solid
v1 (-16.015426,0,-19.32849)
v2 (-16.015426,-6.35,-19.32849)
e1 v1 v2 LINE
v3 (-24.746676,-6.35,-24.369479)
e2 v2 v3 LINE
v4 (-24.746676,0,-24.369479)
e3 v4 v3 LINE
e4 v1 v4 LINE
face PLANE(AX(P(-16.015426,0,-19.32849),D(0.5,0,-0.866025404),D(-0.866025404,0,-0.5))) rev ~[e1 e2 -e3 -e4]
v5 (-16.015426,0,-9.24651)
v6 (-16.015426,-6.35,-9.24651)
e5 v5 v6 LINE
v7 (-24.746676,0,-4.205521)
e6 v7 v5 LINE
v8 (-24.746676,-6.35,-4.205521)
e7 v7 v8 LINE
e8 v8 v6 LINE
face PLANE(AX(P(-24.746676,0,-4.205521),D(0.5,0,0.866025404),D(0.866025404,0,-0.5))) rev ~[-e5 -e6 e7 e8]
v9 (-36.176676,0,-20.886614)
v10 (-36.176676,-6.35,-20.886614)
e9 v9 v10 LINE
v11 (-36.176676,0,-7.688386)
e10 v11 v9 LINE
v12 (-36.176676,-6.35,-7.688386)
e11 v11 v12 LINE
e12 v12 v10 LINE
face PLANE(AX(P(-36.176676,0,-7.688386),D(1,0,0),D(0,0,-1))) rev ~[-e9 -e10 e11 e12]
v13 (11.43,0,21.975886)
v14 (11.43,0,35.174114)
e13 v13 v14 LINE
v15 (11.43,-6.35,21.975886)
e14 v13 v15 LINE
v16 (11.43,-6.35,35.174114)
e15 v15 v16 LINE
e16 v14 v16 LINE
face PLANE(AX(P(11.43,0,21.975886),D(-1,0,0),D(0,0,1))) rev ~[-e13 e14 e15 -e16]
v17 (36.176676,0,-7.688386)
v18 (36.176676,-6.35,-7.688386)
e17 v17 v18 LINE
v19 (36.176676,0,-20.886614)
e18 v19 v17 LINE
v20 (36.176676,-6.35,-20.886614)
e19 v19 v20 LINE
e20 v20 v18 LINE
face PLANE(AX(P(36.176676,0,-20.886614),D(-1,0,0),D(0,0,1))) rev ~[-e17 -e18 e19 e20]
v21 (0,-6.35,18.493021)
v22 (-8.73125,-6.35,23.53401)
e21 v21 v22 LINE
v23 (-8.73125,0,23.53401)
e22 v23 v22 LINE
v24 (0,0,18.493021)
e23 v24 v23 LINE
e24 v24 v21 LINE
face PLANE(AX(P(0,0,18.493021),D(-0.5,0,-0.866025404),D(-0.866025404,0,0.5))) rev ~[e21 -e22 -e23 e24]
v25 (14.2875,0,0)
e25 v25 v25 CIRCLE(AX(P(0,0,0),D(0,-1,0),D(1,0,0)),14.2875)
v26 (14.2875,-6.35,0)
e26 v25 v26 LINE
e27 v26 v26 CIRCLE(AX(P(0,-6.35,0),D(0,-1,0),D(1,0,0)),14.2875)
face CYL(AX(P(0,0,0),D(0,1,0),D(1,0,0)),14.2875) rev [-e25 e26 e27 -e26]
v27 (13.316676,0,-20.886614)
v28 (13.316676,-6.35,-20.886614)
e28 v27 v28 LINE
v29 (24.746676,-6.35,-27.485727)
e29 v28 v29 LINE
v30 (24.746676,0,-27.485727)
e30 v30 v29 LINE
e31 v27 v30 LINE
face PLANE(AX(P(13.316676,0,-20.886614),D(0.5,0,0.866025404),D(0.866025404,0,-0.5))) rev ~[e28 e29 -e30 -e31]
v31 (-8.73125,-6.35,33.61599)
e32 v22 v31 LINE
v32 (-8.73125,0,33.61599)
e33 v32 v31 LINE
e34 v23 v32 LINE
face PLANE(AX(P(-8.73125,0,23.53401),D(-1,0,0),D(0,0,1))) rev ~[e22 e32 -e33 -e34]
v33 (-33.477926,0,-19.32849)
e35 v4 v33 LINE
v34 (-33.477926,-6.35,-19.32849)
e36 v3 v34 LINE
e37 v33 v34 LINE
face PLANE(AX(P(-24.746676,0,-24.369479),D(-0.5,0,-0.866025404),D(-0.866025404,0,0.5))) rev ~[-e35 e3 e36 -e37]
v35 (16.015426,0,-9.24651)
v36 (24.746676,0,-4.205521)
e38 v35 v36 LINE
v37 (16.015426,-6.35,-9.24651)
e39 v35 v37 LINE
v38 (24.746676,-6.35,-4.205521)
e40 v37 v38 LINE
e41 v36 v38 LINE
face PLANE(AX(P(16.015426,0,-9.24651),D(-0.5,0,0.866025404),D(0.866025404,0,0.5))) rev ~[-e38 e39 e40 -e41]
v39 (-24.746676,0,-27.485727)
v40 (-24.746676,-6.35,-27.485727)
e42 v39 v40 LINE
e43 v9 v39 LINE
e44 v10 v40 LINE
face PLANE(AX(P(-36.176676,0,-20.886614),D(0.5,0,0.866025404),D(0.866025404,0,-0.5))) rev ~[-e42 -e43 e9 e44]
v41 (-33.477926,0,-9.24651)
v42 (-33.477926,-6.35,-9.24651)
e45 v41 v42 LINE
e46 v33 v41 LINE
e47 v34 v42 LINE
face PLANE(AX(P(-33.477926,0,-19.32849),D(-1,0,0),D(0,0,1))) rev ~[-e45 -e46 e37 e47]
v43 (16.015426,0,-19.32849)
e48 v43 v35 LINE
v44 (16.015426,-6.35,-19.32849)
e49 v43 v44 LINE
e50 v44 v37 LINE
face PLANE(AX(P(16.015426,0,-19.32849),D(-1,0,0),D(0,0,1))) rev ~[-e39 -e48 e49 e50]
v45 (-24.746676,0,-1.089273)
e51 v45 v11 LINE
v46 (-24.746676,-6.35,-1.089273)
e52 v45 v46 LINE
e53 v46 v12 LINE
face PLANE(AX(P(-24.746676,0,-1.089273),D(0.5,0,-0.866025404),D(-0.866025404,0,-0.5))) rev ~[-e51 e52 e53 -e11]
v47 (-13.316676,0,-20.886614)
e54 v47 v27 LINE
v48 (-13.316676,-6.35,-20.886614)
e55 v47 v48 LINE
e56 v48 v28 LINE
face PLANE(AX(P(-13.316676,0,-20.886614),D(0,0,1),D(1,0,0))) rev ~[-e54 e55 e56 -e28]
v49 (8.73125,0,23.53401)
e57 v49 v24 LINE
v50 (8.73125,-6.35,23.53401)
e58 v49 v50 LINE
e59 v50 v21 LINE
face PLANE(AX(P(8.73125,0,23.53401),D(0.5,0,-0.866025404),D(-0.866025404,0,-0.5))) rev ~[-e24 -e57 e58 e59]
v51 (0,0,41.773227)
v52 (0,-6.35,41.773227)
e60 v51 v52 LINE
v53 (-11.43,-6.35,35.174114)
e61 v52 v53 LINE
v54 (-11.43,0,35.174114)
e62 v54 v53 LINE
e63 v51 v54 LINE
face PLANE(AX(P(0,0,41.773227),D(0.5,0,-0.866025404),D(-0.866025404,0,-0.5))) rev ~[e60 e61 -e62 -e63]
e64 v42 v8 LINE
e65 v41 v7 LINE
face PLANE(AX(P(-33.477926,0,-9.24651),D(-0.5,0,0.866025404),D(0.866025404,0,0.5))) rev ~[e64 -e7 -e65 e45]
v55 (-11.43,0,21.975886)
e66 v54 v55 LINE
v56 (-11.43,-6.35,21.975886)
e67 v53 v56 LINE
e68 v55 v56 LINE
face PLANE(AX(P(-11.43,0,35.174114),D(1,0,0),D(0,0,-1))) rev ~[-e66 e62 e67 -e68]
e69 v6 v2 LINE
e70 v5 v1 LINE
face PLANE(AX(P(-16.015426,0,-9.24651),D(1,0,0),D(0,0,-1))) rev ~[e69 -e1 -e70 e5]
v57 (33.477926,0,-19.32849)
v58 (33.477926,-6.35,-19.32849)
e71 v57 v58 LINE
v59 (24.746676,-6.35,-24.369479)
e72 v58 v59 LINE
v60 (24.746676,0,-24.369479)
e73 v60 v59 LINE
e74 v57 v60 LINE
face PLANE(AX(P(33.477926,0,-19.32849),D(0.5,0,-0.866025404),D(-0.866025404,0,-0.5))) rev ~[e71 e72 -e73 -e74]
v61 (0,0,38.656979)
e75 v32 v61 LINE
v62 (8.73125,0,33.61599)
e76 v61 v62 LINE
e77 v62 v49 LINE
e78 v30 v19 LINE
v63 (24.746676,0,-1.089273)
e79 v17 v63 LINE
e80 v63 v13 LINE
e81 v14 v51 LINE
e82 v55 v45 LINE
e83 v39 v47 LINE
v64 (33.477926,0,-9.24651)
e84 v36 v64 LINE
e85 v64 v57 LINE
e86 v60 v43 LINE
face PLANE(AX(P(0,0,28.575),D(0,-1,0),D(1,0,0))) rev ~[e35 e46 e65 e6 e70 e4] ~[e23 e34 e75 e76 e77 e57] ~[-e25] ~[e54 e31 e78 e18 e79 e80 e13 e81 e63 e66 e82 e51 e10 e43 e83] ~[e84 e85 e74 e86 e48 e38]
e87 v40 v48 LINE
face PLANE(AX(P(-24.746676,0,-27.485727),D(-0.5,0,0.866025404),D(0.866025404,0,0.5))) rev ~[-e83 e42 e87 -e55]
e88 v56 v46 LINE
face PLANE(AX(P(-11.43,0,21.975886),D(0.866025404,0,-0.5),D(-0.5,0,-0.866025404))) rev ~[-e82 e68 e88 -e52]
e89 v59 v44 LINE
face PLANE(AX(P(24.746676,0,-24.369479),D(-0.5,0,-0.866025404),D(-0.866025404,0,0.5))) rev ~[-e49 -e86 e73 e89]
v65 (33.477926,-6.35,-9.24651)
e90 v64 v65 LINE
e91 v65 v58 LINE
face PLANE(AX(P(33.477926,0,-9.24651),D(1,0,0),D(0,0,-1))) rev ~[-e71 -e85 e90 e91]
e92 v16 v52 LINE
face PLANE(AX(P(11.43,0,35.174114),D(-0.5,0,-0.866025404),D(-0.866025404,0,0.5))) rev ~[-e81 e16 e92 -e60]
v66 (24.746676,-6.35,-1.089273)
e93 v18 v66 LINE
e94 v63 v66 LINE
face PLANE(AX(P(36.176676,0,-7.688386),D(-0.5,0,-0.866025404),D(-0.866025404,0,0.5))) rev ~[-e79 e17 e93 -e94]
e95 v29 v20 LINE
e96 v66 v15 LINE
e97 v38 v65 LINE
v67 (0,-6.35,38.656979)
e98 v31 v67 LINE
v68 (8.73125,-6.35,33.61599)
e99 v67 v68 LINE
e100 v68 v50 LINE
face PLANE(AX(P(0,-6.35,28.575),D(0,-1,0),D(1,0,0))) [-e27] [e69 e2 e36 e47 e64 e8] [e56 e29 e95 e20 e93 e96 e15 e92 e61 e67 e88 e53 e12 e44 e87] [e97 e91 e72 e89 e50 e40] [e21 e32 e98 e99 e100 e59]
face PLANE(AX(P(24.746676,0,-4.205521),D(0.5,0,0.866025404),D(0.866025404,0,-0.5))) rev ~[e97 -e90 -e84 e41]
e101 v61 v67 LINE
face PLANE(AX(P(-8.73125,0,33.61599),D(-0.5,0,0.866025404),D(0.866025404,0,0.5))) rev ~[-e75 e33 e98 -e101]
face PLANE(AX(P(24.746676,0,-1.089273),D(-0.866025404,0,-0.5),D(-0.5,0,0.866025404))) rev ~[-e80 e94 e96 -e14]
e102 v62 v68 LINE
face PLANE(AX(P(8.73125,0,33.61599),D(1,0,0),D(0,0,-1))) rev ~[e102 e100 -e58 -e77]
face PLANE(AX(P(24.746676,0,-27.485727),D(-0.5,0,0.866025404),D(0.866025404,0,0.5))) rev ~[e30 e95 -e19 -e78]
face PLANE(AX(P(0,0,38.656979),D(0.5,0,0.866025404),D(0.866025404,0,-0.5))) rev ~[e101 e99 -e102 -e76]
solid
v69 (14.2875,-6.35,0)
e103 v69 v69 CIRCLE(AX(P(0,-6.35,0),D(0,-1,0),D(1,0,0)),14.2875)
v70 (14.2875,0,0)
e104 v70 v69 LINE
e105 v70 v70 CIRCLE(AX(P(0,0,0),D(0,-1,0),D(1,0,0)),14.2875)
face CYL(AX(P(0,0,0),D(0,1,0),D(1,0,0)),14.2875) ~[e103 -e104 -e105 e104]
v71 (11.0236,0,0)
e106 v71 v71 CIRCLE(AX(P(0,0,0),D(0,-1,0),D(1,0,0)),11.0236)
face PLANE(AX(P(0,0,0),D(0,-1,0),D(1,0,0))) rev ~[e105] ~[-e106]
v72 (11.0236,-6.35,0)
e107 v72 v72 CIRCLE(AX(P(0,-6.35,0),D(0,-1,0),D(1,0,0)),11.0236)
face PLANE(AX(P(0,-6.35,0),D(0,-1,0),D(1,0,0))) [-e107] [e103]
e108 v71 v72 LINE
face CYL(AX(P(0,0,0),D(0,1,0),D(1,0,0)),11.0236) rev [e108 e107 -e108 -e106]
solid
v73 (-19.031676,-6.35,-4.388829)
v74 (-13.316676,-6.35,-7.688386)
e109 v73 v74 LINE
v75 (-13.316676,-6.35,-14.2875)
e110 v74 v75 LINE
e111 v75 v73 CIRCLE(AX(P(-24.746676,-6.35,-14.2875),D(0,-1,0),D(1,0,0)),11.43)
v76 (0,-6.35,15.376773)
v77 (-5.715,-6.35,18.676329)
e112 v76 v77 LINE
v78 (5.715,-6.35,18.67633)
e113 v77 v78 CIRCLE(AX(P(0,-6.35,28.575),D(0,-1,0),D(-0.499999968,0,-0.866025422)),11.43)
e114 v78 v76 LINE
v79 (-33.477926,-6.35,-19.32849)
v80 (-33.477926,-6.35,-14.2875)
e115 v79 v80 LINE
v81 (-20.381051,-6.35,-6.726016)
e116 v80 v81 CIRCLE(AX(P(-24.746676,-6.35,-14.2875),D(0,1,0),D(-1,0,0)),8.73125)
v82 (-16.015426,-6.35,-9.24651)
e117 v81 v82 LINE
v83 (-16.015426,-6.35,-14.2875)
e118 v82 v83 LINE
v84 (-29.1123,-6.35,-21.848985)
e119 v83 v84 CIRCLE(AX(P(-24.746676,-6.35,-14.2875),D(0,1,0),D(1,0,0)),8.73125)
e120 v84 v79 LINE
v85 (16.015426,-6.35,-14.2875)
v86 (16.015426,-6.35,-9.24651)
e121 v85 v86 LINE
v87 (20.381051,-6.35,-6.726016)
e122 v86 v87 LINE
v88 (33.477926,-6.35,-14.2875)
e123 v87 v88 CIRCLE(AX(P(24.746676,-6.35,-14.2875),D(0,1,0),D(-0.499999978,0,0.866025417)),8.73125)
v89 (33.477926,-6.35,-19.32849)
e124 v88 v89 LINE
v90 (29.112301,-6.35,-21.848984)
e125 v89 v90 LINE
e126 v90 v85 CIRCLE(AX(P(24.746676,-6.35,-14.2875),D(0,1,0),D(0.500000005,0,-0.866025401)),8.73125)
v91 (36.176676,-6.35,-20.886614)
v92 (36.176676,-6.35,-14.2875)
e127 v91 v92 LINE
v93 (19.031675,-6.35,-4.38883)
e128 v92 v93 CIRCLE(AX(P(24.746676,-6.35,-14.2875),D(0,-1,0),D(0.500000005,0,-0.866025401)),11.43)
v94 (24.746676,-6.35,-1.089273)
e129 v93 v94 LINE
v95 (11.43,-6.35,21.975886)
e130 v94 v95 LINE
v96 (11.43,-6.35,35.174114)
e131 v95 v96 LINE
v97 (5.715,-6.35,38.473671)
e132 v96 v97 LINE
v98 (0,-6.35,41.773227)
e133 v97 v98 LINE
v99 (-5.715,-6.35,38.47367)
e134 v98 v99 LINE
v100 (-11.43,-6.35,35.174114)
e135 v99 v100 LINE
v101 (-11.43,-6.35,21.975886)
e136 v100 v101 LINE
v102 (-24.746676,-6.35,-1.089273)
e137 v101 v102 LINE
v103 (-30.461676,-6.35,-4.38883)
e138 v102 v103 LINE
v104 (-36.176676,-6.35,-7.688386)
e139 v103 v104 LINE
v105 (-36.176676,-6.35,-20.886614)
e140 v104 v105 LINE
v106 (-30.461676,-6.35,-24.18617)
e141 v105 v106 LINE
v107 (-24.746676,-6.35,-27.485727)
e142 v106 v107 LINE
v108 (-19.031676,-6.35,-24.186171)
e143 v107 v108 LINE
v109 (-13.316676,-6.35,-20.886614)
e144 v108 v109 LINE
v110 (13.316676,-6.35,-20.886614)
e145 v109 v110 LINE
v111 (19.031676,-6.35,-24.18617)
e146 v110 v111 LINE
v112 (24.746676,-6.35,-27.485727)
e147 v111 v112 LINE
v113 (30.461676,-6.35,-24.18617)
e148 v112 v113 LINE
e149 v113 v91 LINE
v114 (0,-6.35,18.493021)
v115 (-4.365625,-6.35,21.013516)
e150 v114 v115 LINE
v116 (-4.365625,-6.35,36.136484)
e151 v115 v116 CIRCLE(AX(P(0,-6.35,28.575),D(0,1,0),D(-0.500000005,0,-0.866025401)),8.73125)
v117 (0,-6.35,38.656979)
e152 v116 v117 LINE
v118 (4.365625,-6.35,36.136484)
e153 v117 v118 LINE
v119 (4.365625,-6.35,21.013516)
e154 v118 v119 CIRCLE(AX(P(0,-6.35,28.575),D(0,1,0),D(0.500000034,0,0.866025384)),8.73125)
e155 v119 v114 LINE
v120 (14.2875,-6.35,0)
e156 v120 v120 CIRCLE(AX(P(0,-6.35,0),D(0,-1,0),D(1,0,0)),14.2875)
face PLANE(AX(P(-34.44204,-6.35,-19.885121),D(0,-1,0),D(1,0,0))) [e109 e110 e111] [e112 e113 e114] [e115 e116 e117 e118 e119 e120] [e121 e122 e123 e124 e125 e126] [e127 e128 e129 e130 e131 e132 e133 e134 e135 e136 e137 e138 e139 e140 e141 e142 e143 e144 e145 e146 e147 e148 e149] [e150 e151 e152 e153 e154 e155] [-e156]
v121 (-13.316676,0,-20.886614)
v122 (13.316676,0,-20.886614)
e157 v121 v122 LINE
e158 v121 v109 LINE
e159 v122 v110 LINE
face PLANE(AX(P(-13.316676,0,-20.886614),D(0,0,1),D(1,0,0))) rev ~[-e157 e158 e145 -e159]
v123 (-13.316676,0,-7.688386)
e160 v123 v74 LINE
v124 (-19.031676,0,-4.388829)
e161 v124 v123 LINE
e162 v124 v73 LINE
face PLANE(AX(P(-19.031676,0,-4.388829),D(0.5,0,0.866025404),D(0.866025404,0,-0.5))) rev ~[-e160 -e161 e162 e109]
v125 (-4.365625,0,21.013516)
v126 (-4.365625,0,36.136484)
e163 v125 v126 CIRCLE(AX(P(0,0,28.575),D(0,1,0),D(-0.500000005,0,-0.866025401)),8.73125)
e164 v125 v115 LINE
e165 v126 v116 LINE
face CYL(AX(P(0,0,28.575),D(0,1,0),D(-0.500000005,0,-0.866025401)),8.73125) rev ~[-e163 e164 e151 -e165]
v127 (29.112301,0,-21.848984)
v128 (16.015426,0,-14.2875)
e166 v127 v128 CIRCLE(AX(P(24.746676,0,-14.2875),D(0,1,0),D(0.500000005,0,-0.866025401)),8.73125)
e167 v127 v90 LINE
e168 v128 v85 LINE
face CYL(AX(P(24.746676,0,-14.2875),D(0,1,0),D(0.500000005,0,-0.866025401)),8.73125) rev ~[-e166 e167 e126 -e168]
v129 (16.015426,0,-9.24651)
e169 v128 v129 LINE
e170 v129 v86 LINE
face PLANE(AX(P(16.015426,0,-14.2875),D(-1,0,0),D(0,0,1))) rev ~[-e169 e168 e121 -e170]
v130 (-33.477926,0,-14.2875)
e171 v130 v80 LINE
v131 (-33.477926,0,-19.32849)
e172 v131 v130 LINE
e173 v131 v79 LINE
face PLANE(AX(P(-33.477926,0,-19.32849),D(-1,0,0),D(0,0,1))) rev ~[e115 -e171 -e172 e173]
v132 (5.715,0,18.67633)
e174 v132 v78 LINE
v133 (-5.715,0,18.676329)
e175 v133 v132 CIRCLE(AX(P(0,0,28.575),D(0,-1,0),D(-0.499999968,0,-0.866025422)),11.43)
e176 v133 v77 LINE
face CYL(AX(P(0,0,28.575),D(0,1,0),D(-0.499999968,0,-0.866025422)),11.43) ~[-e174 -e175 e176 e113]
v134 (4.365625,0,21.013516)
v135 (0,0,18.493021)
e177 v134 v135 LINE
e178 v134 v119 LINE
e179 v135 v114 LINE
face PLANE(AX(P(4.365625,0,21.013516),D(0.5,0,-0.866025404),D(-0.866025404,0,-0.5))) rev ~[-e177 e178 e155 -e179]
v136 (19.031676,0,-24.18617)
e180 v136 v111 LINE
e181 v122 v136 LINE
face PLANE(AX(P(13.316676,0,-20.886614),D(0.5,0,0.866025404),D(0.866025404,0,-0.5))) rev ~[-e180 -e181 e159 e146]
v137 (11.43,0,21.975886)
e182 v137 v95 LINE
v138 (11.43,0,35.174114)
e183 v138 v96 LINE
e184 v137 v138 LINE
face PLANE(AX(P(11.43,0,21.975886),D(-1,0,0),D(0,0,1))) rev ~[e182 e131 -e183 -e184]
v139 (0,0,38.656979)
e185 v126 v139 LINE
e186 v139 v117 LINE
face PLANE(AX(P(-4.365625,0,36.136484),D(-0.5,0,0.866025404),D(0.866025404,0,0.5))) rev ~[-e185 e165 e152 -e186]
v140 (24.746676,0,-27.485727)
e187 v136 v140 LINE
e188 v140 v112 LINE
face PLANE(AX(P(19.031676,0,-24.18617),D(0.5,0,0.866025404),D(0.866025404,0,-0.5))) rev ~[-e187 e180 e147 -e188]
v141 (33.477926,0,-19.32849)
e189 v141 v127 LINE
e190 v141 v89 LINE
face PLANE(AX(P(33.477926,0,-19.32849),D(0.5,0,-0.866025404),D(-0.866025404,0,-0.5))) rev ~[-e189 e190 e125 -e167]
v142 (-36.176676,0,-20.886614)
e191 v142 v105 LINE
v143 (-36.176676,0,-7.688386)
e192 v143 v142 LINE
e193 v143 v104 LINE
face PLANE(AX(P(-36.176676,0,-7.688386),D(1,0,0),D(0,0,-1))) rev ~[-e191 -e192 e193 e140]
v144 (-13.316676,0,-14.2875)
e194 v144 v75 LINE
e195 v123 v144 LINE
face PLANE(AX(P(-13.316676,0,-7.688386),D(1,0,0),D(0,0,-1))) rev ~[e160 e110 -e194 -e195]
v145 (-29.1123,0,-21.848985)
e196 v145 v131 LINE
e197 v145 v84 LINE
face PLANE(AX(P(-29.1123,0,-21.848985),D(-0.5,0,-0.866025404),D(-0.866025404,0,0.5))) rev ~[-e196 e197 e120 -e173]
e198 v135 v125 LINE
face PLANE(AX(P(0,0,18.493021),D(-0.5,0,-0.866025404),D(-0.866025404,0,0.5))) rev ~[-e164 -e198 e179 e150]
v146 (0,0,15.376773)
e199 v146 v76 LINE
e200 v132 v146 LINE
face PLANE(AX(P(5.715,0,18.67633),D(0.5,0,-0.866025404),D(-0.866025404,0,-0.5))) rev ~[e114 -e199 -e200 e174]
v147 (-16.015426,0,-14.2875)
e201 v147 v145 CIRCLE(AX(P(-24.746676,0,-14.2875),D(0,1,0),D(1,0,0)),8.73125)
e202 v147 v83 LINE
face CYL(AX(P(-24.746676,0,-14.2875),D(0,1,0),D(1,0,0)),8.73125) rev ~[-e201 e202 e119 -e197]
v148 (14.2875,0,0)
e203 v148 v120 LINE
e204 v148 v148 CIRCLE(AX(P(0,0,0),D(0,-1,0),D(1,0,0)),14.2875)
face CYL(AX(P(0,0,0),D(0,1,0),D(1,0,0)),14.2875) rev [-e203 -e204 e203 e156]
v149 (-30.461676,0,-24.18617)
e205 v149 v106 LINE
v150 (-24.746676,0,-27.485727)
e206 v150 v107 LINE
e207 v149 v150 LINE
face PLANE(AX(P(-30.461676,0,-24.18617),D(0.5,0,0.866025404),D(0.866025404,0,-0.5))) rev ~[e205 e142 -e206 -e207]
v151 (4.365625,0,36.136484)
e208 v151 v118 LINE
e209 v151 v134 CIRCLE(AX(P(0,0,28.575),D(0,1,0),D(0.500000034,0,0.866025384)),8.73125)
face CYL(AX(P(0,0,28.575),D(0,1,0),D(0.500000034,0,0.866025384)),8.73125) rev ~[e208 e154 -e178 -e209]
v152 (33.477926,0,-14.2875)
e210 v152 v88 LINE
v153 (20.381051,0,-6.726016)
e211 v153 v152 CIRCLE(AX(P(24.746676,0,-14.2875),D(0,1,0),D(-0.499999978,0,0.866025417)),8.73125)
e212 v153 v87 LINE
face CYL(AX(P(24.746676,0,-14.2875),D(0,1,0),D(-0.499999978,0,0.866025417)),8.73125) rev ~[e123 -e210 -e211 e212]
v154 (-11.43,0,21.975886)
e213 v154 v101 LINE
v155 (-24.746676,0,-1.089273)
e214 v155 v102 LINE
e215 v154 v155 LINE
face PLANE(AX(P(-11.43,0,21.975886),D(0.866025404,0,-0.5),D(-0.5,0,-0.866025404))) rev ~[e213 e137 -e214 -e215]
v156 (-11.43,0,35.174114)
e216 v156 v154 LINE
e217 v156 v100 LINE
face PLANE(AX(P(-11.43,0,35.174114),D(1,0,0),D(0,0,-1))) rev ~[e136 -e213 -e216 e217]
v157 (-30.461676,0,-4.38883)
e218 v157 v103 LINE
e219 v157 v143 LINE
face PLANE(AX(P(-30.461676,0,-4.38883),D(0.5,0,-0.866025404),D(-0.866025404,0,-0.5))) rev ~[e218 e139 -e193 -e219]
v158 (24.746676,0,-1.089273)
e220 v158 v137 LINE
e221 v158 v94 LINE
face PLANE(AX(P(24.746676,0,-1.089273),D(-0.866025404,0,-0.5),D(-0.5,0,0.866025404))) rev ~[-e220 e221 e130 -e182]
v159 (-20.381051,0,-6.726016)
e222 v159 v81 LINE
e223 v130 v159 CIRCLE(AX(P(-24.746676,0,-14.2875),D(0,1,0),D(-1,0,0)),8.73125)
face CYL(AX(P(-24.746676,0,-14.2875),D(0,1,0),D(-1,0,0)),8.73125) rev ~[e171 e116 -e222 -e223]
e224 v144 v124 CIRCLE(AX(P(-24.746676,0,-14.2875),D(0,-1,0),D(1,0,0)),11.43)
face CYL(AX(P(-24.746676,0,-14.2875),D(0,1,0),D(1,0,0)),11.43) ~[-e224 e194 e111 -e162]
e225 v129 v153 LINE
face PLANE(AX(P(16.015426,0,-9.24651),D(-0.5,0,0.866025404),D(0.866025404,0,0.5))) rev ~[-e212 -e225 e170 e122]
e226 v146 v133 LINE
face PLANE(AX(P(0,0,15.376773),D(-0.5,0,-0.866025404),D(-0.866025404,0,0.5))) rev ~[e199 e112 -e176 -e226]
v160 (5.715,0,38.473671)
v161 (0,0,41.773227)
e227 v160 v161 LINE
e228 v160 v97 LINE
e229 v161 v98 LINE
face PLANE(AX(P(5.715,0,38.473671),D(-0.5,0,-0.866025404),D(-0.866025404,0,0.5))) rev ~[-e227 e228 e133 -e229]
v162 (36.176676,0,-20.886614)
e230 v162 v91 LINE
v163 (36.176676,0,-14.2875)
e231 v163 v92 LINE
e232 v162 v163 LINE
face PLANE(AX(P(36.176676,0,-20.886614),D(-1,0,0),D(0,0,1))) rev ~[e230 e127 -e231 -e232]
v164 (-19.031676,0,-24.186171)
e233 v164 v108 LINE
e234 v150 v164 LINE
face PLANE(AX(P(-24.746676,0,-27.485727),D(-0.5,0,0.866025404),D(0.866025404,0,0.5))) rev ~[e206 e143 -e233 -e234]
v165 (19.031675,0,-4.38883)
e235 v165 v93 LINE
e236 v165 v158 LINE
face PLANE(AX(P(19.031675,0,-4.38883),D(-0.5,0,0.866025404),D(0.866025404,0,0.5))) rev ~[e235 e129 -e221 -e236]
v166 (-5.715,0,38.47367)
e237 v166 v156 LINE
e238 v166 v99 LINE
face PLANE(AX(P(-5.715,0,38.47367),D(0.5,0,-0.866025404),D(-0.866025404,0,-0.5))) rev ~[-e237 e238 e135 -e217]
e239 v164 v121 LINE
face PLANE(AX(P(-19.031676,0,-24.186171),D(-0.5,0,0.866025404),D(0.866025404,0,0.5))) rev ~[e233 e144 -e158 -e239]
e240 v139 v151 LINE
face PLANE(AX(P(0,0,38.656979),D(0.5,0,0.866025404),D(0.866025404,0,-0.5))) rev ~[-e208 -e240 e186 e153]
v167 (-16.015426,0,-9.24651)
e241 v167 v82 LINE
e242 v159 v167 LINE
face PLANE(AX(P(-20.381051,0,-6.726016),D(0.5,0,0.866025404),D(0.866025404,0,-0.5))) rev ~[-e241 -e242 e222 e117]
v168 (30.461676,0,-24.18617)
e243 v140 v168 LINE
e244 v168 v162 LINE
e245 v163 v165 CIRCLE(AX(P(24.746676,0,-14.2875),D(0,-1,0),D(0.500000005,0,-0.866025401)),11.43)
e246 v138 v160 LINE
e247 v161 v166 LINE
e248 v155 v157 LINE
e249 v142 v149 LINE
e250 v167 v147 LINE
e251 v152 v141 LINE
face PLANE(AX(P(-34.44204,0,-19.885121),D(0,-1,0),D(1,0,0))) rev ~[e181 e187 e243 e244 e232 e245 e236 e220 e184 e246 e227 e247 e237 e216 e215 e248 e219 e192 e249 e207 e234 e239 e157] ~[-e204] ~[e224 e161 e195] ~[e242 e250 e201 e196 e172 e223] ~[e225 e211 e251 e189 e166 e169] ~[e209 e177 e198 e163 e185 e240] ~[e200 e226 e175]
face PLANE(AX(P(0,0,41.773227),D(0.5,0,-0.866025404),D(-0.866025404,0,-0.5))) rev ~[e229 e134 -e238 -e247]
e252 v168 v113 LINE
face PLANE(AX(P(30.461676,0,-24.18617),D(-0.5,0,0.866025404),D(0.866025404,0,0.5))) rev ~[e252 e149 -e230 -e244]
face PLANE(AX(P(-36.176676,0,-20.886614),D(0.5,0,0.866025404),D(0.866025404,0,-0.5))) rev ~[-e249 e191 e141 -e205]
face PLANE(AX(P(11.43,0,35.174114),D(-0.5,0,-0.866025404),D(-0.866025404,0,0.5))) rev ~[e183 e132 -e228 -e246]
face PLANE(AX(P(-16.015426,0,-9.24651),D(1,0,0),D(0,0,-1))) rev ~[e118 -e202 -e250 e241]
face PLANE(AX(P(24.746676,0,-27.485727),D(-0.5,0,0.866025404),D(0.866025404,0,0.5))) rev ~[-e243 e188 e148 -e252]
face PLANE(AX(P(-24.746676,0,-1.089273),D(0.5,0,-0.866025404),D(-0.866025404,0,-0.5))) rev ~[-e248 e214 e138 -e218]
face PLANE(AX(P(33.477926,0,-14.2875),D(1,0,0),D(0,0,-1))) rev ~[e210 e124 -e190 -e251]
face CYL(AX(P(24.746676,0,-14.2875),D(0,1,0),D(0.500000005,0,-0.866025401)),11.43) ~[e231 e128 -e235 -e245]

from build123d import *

# Parameters (mm, degrees)
F1_R     = 14.2875
F2_DEPTH = 6.35
F0_R     = 14.2875
F0_R_2   = 11.0236
F3_DEPTH = 6.35


with BuildPart() as f2:
    # F1 (on Front) → F2 (new body)
    with BuildSketch(Plane.XZ):
        with BuildLine():
            Line((-36.1766759131, -14.2874998792), (-36.1766759131, -20.8866135768))
            Line((-36.1766759131, -20.8866135768), (-30.4616760977, -24.1861702587))
            ThreePointArc((-30.4616760977, -24.1861702587), (-34.6453463619, -20.0024998554), (-36.1766759131, -14.2874998792))
        make_face()
        with BuildLine():
            Line((-36.1766759131, -7.6883864232), (-36.1766759131, -14.2874998792))
            ThreePointArc((-36.1766759131, -14.2874998792), (-34.6453462642, -8.5724999754), (-30.4616759686, -4.3888296668))
            Line((-30.4616759686, -4.3888296668), (-36.1766759131, -7.6883864232))
        make_face()
        with BuildLine():
            ThreePointArc((-30.4616759686, -4.3888296668), (-34.6453462642, -8.5724999754), (-36.1766759131, -14.2874998792))
            ThreePointArc((-36.1766759131, -14.2874998792), (-34.6453463619, -20.0024998554), (-30.4616760977, -24.1861702587))
            ThreePointArc((-30.4616760977, -24.1861702587), (-24.7466762295, -25.7175), (-19.0316762765, -24.186170575))
            ThreePointArc((-19.0316762765, -24.186170575), (-14.8480056528, -20.0025001817), (-13.3166759131, -14.2875))
            ThreePointArc((-13.3166759131, -14.2875), (-14.8480056284, -8.5724998605), (-19.0316761921, -4.3888294737))
            ThreePointArc((-19.0316761921, -4.3888294737), (-24.7466761062, -2.8575), (-30.4616759686, -4.3888296668))
        make_face()
        with BuildLine():
            ThreePointArc((-16.0154259131, -14.2875), (-20.3810506973, -21.8489841822), (-29.1123004814, -21.848984556))
            Line((-29.1123004814, -21.848984556), (-33.4779259131, -19.3284895379))
            Line((-33.4779259131, -19.3284895379), (-33.4779259131, -14.2875))
            ThreePointArc((-33.4779259131, -14.2875), (-29.1123008814, -6.7260156749), (-20.3810508496, -6.7260157299))
            Line((-20.3810508496, -6.7260157299), (-16.0154259131, -9.2465104621))
            Line((-16.0154259131, -9.2465104621), (-16.0154259131, -14.2875))
        make_face(mode=Mode.SUBTRACT)
        with BuildLine():
            ThreePointArc((-19.0316762765, -24.186170575), (-24.7466762295, -25.7175), (-30.4616760977, -24.1861702587))
            Line((-30.4616760977, -24.1861702587), (-24.7466759131, -27.4857271537))
            Line((-24.7466759131, -27.4857271537), (-19.0316762765, -24.186170575))
        make_face()
        with BuildLine():
            Line((-24.7466759131, -1.0892728463), (-30.4616759686, -4.3888296668))
            ThreePointArc((-30.4616759686, -4.3888296668), (-24.7466761062, -2.8575), (-19.0316761921, -4.3888294737))
            Line((-19.0316761921, -4.3888294737), (-24.7466759131, -1.0892728463))
        make_face()
        with BuildLine():
            ThreePointArc((-13.3166759131, -14.2875), (-14.8480056528, -20.0025001817), (-19.0316762765, -24.186170575))
            Line((-19.0316762765, -24.186170575), (-13.3166759131, -20.8866135768))
            Line((-13.3166759131, -20.8866135768), (-13.3166759131, -14.2875))
        make_face()
        Polygon((-24.7466759131, -1.0892728463), (-19.0316761921, -4.3888294737), (-13.3166759131, -7.6883864232), (-13.3166759131, -14.2875), (-13.3166759131, -20.8866135768), (13.3166759131, -20.8866135768), (13.3166759131, -14.2875000109), (13.3166759131, -7.6883864232), (19.0316752301, -4.3888300291), (24.7466759131, -1.0892728463), (11.43, 21.9758864232), (5.7149999664, 18.6763296153), (0, 15.3767728463), (-5.7149996367, 18.676329425), (-11.43, 21.9758864232), align=None)
        Circle(F1_R, mode=Mode.SUBTRACT)
        with BuildLine():
            Line((-11.43, 28.575), (-11.43, 21.9758864232))
            Line((-11.43, 21.9758864232), (-5.7149996367, 18.676329425))
            ThreePointArc((-5.7149996367, 18.676329425), (-9.8986702604, 22.8599998183), (-11.43, 28.575))
        make_face()
        with BuildLine():
            Line((13.3166759131, -14.2875000109), (13.3166759131, -20.8866135768))
            Line((13.3166759131, -20.8866135768), (19.0316758579, -24.1861703334))
            ThreePointArc((19.0316758579, -24.1861703334), (14.8480055347, -20.0024999771), (13.3166759131, -14.2875000109))
        make_face()
        with BuildLine():
            ThreePointArc((-11.43, 28.575), (-9.8986702604, 22.8599998183), (-5.7149996367, 18.676329425))
            ThreePointArc((-5.7149996367, 18.676329425), (1.904e-07, 17.145), (5.7149999664, 18.6763296153))
            ThreePointArc((5.7149999664, 18.6763296153), (9.8986703555, 22.8599999832), (11.43, 28.575))
            ThreePointArc((11.43, 28.575), (9.8986702746, 34.290000157), (5.7149996861, 38.4736705465))
            ThreePointArc((5.7149996861, 38.4736705465), (-2.131e-07, 40.005), (-5.7150000552, 38.4736703334))
            ThreePointArc((-5.7150000552, 38.4736703334), (-9.8986703812, 34.2899999724), (-11.43, 28.575))
        make_face()
        with BuildLine():
            Line((4.3656250471, 21.0135157204), (0, 18.4930209243))
            Line((0, 18.4930209243), (-4.3656250471, 21.0135157204))
            ThreePointArc((-4.3656250471, 21.0135157204), (-8.73125, 28.575), (-4.3656250471, 36.1364842796))
            Line((-4.3656250471, 36.1364842796), (0, 38.6569790757))
            Line((0, 38.6569790757), (4.3656252998, 36.1364841337))
            ThreePointArc((4.3656252998, 36.1364841337), (7.5614843933, 32.9406248501), (8.73125, 28.575))
            ThreePointArc((8.73125, 28.575), (7.5614843204, 24.2093750235), (4.3656250471, 21.0135157204))
        make_face(mode=Mode.SUBTRACT)
        with BuildLine():
            Line((-11.43, 35.1741135768), (-11.43, 28.575))
            ThreePointArc((-11.43, 28.575), (-9.8986703812, 34.2899999724), (-5.7150000552, 38.4736703334))
            Line((-5.7150000552, 38.4736703334), (-11.43, 35.1741135768))
        make_face()
        with BuildLine():
            ThreePointArc((30.4616759683, -24.1861703334), (24.7466759131, -25.7175), (19.0316758579, -24.1861703334))
            Line((19.0316758579, -24.1861703334), (24.7466759131, -27.4857271537))
            Line((24.7466759131, -27.4857271537), (30.4616759683, -24.1861703334))
        make_face()
        with BuildLine():
            ThreePointArc((13.3166759131, -14.2875000109), (14.8480055347, -20.0024999771), (19.0316758579, -24.1861703334))
            ThreePointArc((19.0316758579, -24.1861703334), (24.7466759131, -25.7175), (30.4616759683, -24.1861703334))
            ThreePointArc((30.4616759683, -24.1861703334), (34.6453462943, -20.0024999724), (36.1766759131, -14.2875))
            ThreePointArc((36.1766759131, -14.2875), (30.4616755716, -4.3888294376), (19.0316752301, -4.3888300291))
            ThreePointArc((19.0316752301, -4.3888300291), (14.848005348, -8.5725003462), (13.3166759131, -14.2875000109))
        make_face()
        with BuildLine():
            ThreePointArc((29.1123009602, -21.8489842796), (20.3810509649, -21.8489843367), (16.0154259131, -14.2875000653))
            Line((16.0154259131, -14.2875000653), (16.0154259131, -9.2465104621))
            Line((16.0154259131, -9.2465104621), (20.3810511086, -6.7260155804))
            ThreePointArc((20.3810511086, -6.7260155804), (29.1123010109, -6.7260157496), (33.4779259131, -14.2875))
            Line((33.4779259131, -14.2875), (33.4779259131, -19.3284895379))
            Line((33.4779259131, -19.3284895379), (29.1123009602, -21.8489842796))
        make_face(mode=Mode.SUBTRACT)
        with BuildLine():
            Line((13.3166759131, -7.6883864232), (13.3166759131, -14.2875000109))
            ThreePointArc((13.3166759131, -14.2875000109), (14.848005348, -8.5725003462), (19.0316752301, -4.3888300291))
            Line((19.0316752301, -4.3888300291), (13.3166759131, -7.6883864232))
        make_face()
        with BuildLine():
            ThreePointArc((11.43, 28.575), (9.8986703555, 22.8599999832), (5.7149999664, 18.6763296153))
            Line((5.7149999664, 18.6763296153), (11.43, 21.9758864232))
            Line((11.43, 21.9758864232), (11.43, 28.575))
        make_face()
        with BuildLine():
            Line((0, 41.7732271537), (-5.7150000552, 38.4736703334))
            ThreePointArc((-5.7150000552, 38.4736703334), (-2.131e-07, 40.005), (5.7149996861, 38.4736705465))
            Line((5.7149996861, 38.4736705465), (0, 41.7732271537))
        make_face()
        with BuildLine():
            ThreePointArc((36.1766759131, -14.2875), (34.6453462943, -20.0024999724), (30.4616759683, -24.1861703334))
            Line((30.4616759683, -24.1861703334), (36.1766759131, -20.8866135768))
            Line((36.1766759131, -20.8866135768), (36.1766759131, -14.2875))
        make_face()
        with BuildLine():
            ThreePointArc((5.7149996861, 38.4736705465), (9.8986702746, 34.290000157), (11.43, 28.575))
            Line((11.43, 28.575), (11.43, 35.1741135768))
            Line((11.43, 35.1741135768), (5.7149996861, 38.4736705465))
        make_face()
    extrude(amount=F2_DEPTH)


with BuildPart() as f2b:
    # F0 (on Front) → F2, piece 2 (new body)
    with BuildSketch(Plane.XZ):
        Circle(F0_R)
        Circle(F0_R_2, mode=Mode.SUBTRACT)
    extrude(amount=F2_DEPTH)


with BuildPart() as f3:
    # F0 (on Front) → F3 (new body)
    with BuildSketch(Plane.XZ):
        Polygon((-11.43, 35.1741135768), (-11.43, 21.9758864232), (0, 15.3767728463), (11.43, 21.9758864232), (11.43, 35.1741135768), (0, 41.7732271537), align=None)
        Polygon((0, 38.6569790757), (8.73125, 33.6159895379), (8.73125, 23.5340104621), (0, 18.4930209243), (-8.73125, 23.5340104621), (-8.73125, 33.6159895379), align=None, mode=Mode.SUBTRACT)
        Polygon((0, 15.3767728463), (-11.43, 21.9758864232), (-24.7466759131, -1.0892728463), (-13.3166759131, -7.6883864232), (-13.3166759131, -20.8866135768), (13.3166759131, -20.8866135768), (13.3166759131, -7.6883864232), (24.7466759131, -1.0892728463), (11.43, 21.9758864232), align=None)
        Circle(F0_R, mode=Mode.SUBTRACT)
        Polygon((-13.3166759131, -7.6883864232), (-24.7466759131, -1.0892728463), (-36.1766759131, -7.6883864232), (-36.1766759131, -20.8866135768), (-24.7466759131, -27.4857271537), (-13.3166759131, -20.8866135768), align=None)
        Polygon((-33.4779259131, -19.3284895379), (-33.4779259131, -9.2465104621), (-24.7466759131, -4.2055209243), (-16.0154259131, -9.2465104621), (-16.0154259131, -19.3284895379), (-24.7466759131, -24.3694790757), align=None, mode=Mode.SUBTRACT)
        Polygon((36.1766759131, -7.6883864232), (24.7466759131, -1.0892728463), (13.3166759131, -7.6883864232), (13.3166759131, -20.8866135768), (24.7466759131, -27.4857271537), (36.1766759131, -20.8866135768), align=None)
        Polygon((33.4779259131, -19.3284895379), (24.7466759131, -24.3694790757), (16.0154259131, -19.3284895379), (16.0154259131, -9.2465104621), (24.7466759131, -4.2055209243), (33.4779259131, -9.2465104621), align=None, mode=Mode.SUBTRACT)
    extrude(amount=F3_DEPTH)


solid = Compound([f2.part, f2b.part, f3.part])
